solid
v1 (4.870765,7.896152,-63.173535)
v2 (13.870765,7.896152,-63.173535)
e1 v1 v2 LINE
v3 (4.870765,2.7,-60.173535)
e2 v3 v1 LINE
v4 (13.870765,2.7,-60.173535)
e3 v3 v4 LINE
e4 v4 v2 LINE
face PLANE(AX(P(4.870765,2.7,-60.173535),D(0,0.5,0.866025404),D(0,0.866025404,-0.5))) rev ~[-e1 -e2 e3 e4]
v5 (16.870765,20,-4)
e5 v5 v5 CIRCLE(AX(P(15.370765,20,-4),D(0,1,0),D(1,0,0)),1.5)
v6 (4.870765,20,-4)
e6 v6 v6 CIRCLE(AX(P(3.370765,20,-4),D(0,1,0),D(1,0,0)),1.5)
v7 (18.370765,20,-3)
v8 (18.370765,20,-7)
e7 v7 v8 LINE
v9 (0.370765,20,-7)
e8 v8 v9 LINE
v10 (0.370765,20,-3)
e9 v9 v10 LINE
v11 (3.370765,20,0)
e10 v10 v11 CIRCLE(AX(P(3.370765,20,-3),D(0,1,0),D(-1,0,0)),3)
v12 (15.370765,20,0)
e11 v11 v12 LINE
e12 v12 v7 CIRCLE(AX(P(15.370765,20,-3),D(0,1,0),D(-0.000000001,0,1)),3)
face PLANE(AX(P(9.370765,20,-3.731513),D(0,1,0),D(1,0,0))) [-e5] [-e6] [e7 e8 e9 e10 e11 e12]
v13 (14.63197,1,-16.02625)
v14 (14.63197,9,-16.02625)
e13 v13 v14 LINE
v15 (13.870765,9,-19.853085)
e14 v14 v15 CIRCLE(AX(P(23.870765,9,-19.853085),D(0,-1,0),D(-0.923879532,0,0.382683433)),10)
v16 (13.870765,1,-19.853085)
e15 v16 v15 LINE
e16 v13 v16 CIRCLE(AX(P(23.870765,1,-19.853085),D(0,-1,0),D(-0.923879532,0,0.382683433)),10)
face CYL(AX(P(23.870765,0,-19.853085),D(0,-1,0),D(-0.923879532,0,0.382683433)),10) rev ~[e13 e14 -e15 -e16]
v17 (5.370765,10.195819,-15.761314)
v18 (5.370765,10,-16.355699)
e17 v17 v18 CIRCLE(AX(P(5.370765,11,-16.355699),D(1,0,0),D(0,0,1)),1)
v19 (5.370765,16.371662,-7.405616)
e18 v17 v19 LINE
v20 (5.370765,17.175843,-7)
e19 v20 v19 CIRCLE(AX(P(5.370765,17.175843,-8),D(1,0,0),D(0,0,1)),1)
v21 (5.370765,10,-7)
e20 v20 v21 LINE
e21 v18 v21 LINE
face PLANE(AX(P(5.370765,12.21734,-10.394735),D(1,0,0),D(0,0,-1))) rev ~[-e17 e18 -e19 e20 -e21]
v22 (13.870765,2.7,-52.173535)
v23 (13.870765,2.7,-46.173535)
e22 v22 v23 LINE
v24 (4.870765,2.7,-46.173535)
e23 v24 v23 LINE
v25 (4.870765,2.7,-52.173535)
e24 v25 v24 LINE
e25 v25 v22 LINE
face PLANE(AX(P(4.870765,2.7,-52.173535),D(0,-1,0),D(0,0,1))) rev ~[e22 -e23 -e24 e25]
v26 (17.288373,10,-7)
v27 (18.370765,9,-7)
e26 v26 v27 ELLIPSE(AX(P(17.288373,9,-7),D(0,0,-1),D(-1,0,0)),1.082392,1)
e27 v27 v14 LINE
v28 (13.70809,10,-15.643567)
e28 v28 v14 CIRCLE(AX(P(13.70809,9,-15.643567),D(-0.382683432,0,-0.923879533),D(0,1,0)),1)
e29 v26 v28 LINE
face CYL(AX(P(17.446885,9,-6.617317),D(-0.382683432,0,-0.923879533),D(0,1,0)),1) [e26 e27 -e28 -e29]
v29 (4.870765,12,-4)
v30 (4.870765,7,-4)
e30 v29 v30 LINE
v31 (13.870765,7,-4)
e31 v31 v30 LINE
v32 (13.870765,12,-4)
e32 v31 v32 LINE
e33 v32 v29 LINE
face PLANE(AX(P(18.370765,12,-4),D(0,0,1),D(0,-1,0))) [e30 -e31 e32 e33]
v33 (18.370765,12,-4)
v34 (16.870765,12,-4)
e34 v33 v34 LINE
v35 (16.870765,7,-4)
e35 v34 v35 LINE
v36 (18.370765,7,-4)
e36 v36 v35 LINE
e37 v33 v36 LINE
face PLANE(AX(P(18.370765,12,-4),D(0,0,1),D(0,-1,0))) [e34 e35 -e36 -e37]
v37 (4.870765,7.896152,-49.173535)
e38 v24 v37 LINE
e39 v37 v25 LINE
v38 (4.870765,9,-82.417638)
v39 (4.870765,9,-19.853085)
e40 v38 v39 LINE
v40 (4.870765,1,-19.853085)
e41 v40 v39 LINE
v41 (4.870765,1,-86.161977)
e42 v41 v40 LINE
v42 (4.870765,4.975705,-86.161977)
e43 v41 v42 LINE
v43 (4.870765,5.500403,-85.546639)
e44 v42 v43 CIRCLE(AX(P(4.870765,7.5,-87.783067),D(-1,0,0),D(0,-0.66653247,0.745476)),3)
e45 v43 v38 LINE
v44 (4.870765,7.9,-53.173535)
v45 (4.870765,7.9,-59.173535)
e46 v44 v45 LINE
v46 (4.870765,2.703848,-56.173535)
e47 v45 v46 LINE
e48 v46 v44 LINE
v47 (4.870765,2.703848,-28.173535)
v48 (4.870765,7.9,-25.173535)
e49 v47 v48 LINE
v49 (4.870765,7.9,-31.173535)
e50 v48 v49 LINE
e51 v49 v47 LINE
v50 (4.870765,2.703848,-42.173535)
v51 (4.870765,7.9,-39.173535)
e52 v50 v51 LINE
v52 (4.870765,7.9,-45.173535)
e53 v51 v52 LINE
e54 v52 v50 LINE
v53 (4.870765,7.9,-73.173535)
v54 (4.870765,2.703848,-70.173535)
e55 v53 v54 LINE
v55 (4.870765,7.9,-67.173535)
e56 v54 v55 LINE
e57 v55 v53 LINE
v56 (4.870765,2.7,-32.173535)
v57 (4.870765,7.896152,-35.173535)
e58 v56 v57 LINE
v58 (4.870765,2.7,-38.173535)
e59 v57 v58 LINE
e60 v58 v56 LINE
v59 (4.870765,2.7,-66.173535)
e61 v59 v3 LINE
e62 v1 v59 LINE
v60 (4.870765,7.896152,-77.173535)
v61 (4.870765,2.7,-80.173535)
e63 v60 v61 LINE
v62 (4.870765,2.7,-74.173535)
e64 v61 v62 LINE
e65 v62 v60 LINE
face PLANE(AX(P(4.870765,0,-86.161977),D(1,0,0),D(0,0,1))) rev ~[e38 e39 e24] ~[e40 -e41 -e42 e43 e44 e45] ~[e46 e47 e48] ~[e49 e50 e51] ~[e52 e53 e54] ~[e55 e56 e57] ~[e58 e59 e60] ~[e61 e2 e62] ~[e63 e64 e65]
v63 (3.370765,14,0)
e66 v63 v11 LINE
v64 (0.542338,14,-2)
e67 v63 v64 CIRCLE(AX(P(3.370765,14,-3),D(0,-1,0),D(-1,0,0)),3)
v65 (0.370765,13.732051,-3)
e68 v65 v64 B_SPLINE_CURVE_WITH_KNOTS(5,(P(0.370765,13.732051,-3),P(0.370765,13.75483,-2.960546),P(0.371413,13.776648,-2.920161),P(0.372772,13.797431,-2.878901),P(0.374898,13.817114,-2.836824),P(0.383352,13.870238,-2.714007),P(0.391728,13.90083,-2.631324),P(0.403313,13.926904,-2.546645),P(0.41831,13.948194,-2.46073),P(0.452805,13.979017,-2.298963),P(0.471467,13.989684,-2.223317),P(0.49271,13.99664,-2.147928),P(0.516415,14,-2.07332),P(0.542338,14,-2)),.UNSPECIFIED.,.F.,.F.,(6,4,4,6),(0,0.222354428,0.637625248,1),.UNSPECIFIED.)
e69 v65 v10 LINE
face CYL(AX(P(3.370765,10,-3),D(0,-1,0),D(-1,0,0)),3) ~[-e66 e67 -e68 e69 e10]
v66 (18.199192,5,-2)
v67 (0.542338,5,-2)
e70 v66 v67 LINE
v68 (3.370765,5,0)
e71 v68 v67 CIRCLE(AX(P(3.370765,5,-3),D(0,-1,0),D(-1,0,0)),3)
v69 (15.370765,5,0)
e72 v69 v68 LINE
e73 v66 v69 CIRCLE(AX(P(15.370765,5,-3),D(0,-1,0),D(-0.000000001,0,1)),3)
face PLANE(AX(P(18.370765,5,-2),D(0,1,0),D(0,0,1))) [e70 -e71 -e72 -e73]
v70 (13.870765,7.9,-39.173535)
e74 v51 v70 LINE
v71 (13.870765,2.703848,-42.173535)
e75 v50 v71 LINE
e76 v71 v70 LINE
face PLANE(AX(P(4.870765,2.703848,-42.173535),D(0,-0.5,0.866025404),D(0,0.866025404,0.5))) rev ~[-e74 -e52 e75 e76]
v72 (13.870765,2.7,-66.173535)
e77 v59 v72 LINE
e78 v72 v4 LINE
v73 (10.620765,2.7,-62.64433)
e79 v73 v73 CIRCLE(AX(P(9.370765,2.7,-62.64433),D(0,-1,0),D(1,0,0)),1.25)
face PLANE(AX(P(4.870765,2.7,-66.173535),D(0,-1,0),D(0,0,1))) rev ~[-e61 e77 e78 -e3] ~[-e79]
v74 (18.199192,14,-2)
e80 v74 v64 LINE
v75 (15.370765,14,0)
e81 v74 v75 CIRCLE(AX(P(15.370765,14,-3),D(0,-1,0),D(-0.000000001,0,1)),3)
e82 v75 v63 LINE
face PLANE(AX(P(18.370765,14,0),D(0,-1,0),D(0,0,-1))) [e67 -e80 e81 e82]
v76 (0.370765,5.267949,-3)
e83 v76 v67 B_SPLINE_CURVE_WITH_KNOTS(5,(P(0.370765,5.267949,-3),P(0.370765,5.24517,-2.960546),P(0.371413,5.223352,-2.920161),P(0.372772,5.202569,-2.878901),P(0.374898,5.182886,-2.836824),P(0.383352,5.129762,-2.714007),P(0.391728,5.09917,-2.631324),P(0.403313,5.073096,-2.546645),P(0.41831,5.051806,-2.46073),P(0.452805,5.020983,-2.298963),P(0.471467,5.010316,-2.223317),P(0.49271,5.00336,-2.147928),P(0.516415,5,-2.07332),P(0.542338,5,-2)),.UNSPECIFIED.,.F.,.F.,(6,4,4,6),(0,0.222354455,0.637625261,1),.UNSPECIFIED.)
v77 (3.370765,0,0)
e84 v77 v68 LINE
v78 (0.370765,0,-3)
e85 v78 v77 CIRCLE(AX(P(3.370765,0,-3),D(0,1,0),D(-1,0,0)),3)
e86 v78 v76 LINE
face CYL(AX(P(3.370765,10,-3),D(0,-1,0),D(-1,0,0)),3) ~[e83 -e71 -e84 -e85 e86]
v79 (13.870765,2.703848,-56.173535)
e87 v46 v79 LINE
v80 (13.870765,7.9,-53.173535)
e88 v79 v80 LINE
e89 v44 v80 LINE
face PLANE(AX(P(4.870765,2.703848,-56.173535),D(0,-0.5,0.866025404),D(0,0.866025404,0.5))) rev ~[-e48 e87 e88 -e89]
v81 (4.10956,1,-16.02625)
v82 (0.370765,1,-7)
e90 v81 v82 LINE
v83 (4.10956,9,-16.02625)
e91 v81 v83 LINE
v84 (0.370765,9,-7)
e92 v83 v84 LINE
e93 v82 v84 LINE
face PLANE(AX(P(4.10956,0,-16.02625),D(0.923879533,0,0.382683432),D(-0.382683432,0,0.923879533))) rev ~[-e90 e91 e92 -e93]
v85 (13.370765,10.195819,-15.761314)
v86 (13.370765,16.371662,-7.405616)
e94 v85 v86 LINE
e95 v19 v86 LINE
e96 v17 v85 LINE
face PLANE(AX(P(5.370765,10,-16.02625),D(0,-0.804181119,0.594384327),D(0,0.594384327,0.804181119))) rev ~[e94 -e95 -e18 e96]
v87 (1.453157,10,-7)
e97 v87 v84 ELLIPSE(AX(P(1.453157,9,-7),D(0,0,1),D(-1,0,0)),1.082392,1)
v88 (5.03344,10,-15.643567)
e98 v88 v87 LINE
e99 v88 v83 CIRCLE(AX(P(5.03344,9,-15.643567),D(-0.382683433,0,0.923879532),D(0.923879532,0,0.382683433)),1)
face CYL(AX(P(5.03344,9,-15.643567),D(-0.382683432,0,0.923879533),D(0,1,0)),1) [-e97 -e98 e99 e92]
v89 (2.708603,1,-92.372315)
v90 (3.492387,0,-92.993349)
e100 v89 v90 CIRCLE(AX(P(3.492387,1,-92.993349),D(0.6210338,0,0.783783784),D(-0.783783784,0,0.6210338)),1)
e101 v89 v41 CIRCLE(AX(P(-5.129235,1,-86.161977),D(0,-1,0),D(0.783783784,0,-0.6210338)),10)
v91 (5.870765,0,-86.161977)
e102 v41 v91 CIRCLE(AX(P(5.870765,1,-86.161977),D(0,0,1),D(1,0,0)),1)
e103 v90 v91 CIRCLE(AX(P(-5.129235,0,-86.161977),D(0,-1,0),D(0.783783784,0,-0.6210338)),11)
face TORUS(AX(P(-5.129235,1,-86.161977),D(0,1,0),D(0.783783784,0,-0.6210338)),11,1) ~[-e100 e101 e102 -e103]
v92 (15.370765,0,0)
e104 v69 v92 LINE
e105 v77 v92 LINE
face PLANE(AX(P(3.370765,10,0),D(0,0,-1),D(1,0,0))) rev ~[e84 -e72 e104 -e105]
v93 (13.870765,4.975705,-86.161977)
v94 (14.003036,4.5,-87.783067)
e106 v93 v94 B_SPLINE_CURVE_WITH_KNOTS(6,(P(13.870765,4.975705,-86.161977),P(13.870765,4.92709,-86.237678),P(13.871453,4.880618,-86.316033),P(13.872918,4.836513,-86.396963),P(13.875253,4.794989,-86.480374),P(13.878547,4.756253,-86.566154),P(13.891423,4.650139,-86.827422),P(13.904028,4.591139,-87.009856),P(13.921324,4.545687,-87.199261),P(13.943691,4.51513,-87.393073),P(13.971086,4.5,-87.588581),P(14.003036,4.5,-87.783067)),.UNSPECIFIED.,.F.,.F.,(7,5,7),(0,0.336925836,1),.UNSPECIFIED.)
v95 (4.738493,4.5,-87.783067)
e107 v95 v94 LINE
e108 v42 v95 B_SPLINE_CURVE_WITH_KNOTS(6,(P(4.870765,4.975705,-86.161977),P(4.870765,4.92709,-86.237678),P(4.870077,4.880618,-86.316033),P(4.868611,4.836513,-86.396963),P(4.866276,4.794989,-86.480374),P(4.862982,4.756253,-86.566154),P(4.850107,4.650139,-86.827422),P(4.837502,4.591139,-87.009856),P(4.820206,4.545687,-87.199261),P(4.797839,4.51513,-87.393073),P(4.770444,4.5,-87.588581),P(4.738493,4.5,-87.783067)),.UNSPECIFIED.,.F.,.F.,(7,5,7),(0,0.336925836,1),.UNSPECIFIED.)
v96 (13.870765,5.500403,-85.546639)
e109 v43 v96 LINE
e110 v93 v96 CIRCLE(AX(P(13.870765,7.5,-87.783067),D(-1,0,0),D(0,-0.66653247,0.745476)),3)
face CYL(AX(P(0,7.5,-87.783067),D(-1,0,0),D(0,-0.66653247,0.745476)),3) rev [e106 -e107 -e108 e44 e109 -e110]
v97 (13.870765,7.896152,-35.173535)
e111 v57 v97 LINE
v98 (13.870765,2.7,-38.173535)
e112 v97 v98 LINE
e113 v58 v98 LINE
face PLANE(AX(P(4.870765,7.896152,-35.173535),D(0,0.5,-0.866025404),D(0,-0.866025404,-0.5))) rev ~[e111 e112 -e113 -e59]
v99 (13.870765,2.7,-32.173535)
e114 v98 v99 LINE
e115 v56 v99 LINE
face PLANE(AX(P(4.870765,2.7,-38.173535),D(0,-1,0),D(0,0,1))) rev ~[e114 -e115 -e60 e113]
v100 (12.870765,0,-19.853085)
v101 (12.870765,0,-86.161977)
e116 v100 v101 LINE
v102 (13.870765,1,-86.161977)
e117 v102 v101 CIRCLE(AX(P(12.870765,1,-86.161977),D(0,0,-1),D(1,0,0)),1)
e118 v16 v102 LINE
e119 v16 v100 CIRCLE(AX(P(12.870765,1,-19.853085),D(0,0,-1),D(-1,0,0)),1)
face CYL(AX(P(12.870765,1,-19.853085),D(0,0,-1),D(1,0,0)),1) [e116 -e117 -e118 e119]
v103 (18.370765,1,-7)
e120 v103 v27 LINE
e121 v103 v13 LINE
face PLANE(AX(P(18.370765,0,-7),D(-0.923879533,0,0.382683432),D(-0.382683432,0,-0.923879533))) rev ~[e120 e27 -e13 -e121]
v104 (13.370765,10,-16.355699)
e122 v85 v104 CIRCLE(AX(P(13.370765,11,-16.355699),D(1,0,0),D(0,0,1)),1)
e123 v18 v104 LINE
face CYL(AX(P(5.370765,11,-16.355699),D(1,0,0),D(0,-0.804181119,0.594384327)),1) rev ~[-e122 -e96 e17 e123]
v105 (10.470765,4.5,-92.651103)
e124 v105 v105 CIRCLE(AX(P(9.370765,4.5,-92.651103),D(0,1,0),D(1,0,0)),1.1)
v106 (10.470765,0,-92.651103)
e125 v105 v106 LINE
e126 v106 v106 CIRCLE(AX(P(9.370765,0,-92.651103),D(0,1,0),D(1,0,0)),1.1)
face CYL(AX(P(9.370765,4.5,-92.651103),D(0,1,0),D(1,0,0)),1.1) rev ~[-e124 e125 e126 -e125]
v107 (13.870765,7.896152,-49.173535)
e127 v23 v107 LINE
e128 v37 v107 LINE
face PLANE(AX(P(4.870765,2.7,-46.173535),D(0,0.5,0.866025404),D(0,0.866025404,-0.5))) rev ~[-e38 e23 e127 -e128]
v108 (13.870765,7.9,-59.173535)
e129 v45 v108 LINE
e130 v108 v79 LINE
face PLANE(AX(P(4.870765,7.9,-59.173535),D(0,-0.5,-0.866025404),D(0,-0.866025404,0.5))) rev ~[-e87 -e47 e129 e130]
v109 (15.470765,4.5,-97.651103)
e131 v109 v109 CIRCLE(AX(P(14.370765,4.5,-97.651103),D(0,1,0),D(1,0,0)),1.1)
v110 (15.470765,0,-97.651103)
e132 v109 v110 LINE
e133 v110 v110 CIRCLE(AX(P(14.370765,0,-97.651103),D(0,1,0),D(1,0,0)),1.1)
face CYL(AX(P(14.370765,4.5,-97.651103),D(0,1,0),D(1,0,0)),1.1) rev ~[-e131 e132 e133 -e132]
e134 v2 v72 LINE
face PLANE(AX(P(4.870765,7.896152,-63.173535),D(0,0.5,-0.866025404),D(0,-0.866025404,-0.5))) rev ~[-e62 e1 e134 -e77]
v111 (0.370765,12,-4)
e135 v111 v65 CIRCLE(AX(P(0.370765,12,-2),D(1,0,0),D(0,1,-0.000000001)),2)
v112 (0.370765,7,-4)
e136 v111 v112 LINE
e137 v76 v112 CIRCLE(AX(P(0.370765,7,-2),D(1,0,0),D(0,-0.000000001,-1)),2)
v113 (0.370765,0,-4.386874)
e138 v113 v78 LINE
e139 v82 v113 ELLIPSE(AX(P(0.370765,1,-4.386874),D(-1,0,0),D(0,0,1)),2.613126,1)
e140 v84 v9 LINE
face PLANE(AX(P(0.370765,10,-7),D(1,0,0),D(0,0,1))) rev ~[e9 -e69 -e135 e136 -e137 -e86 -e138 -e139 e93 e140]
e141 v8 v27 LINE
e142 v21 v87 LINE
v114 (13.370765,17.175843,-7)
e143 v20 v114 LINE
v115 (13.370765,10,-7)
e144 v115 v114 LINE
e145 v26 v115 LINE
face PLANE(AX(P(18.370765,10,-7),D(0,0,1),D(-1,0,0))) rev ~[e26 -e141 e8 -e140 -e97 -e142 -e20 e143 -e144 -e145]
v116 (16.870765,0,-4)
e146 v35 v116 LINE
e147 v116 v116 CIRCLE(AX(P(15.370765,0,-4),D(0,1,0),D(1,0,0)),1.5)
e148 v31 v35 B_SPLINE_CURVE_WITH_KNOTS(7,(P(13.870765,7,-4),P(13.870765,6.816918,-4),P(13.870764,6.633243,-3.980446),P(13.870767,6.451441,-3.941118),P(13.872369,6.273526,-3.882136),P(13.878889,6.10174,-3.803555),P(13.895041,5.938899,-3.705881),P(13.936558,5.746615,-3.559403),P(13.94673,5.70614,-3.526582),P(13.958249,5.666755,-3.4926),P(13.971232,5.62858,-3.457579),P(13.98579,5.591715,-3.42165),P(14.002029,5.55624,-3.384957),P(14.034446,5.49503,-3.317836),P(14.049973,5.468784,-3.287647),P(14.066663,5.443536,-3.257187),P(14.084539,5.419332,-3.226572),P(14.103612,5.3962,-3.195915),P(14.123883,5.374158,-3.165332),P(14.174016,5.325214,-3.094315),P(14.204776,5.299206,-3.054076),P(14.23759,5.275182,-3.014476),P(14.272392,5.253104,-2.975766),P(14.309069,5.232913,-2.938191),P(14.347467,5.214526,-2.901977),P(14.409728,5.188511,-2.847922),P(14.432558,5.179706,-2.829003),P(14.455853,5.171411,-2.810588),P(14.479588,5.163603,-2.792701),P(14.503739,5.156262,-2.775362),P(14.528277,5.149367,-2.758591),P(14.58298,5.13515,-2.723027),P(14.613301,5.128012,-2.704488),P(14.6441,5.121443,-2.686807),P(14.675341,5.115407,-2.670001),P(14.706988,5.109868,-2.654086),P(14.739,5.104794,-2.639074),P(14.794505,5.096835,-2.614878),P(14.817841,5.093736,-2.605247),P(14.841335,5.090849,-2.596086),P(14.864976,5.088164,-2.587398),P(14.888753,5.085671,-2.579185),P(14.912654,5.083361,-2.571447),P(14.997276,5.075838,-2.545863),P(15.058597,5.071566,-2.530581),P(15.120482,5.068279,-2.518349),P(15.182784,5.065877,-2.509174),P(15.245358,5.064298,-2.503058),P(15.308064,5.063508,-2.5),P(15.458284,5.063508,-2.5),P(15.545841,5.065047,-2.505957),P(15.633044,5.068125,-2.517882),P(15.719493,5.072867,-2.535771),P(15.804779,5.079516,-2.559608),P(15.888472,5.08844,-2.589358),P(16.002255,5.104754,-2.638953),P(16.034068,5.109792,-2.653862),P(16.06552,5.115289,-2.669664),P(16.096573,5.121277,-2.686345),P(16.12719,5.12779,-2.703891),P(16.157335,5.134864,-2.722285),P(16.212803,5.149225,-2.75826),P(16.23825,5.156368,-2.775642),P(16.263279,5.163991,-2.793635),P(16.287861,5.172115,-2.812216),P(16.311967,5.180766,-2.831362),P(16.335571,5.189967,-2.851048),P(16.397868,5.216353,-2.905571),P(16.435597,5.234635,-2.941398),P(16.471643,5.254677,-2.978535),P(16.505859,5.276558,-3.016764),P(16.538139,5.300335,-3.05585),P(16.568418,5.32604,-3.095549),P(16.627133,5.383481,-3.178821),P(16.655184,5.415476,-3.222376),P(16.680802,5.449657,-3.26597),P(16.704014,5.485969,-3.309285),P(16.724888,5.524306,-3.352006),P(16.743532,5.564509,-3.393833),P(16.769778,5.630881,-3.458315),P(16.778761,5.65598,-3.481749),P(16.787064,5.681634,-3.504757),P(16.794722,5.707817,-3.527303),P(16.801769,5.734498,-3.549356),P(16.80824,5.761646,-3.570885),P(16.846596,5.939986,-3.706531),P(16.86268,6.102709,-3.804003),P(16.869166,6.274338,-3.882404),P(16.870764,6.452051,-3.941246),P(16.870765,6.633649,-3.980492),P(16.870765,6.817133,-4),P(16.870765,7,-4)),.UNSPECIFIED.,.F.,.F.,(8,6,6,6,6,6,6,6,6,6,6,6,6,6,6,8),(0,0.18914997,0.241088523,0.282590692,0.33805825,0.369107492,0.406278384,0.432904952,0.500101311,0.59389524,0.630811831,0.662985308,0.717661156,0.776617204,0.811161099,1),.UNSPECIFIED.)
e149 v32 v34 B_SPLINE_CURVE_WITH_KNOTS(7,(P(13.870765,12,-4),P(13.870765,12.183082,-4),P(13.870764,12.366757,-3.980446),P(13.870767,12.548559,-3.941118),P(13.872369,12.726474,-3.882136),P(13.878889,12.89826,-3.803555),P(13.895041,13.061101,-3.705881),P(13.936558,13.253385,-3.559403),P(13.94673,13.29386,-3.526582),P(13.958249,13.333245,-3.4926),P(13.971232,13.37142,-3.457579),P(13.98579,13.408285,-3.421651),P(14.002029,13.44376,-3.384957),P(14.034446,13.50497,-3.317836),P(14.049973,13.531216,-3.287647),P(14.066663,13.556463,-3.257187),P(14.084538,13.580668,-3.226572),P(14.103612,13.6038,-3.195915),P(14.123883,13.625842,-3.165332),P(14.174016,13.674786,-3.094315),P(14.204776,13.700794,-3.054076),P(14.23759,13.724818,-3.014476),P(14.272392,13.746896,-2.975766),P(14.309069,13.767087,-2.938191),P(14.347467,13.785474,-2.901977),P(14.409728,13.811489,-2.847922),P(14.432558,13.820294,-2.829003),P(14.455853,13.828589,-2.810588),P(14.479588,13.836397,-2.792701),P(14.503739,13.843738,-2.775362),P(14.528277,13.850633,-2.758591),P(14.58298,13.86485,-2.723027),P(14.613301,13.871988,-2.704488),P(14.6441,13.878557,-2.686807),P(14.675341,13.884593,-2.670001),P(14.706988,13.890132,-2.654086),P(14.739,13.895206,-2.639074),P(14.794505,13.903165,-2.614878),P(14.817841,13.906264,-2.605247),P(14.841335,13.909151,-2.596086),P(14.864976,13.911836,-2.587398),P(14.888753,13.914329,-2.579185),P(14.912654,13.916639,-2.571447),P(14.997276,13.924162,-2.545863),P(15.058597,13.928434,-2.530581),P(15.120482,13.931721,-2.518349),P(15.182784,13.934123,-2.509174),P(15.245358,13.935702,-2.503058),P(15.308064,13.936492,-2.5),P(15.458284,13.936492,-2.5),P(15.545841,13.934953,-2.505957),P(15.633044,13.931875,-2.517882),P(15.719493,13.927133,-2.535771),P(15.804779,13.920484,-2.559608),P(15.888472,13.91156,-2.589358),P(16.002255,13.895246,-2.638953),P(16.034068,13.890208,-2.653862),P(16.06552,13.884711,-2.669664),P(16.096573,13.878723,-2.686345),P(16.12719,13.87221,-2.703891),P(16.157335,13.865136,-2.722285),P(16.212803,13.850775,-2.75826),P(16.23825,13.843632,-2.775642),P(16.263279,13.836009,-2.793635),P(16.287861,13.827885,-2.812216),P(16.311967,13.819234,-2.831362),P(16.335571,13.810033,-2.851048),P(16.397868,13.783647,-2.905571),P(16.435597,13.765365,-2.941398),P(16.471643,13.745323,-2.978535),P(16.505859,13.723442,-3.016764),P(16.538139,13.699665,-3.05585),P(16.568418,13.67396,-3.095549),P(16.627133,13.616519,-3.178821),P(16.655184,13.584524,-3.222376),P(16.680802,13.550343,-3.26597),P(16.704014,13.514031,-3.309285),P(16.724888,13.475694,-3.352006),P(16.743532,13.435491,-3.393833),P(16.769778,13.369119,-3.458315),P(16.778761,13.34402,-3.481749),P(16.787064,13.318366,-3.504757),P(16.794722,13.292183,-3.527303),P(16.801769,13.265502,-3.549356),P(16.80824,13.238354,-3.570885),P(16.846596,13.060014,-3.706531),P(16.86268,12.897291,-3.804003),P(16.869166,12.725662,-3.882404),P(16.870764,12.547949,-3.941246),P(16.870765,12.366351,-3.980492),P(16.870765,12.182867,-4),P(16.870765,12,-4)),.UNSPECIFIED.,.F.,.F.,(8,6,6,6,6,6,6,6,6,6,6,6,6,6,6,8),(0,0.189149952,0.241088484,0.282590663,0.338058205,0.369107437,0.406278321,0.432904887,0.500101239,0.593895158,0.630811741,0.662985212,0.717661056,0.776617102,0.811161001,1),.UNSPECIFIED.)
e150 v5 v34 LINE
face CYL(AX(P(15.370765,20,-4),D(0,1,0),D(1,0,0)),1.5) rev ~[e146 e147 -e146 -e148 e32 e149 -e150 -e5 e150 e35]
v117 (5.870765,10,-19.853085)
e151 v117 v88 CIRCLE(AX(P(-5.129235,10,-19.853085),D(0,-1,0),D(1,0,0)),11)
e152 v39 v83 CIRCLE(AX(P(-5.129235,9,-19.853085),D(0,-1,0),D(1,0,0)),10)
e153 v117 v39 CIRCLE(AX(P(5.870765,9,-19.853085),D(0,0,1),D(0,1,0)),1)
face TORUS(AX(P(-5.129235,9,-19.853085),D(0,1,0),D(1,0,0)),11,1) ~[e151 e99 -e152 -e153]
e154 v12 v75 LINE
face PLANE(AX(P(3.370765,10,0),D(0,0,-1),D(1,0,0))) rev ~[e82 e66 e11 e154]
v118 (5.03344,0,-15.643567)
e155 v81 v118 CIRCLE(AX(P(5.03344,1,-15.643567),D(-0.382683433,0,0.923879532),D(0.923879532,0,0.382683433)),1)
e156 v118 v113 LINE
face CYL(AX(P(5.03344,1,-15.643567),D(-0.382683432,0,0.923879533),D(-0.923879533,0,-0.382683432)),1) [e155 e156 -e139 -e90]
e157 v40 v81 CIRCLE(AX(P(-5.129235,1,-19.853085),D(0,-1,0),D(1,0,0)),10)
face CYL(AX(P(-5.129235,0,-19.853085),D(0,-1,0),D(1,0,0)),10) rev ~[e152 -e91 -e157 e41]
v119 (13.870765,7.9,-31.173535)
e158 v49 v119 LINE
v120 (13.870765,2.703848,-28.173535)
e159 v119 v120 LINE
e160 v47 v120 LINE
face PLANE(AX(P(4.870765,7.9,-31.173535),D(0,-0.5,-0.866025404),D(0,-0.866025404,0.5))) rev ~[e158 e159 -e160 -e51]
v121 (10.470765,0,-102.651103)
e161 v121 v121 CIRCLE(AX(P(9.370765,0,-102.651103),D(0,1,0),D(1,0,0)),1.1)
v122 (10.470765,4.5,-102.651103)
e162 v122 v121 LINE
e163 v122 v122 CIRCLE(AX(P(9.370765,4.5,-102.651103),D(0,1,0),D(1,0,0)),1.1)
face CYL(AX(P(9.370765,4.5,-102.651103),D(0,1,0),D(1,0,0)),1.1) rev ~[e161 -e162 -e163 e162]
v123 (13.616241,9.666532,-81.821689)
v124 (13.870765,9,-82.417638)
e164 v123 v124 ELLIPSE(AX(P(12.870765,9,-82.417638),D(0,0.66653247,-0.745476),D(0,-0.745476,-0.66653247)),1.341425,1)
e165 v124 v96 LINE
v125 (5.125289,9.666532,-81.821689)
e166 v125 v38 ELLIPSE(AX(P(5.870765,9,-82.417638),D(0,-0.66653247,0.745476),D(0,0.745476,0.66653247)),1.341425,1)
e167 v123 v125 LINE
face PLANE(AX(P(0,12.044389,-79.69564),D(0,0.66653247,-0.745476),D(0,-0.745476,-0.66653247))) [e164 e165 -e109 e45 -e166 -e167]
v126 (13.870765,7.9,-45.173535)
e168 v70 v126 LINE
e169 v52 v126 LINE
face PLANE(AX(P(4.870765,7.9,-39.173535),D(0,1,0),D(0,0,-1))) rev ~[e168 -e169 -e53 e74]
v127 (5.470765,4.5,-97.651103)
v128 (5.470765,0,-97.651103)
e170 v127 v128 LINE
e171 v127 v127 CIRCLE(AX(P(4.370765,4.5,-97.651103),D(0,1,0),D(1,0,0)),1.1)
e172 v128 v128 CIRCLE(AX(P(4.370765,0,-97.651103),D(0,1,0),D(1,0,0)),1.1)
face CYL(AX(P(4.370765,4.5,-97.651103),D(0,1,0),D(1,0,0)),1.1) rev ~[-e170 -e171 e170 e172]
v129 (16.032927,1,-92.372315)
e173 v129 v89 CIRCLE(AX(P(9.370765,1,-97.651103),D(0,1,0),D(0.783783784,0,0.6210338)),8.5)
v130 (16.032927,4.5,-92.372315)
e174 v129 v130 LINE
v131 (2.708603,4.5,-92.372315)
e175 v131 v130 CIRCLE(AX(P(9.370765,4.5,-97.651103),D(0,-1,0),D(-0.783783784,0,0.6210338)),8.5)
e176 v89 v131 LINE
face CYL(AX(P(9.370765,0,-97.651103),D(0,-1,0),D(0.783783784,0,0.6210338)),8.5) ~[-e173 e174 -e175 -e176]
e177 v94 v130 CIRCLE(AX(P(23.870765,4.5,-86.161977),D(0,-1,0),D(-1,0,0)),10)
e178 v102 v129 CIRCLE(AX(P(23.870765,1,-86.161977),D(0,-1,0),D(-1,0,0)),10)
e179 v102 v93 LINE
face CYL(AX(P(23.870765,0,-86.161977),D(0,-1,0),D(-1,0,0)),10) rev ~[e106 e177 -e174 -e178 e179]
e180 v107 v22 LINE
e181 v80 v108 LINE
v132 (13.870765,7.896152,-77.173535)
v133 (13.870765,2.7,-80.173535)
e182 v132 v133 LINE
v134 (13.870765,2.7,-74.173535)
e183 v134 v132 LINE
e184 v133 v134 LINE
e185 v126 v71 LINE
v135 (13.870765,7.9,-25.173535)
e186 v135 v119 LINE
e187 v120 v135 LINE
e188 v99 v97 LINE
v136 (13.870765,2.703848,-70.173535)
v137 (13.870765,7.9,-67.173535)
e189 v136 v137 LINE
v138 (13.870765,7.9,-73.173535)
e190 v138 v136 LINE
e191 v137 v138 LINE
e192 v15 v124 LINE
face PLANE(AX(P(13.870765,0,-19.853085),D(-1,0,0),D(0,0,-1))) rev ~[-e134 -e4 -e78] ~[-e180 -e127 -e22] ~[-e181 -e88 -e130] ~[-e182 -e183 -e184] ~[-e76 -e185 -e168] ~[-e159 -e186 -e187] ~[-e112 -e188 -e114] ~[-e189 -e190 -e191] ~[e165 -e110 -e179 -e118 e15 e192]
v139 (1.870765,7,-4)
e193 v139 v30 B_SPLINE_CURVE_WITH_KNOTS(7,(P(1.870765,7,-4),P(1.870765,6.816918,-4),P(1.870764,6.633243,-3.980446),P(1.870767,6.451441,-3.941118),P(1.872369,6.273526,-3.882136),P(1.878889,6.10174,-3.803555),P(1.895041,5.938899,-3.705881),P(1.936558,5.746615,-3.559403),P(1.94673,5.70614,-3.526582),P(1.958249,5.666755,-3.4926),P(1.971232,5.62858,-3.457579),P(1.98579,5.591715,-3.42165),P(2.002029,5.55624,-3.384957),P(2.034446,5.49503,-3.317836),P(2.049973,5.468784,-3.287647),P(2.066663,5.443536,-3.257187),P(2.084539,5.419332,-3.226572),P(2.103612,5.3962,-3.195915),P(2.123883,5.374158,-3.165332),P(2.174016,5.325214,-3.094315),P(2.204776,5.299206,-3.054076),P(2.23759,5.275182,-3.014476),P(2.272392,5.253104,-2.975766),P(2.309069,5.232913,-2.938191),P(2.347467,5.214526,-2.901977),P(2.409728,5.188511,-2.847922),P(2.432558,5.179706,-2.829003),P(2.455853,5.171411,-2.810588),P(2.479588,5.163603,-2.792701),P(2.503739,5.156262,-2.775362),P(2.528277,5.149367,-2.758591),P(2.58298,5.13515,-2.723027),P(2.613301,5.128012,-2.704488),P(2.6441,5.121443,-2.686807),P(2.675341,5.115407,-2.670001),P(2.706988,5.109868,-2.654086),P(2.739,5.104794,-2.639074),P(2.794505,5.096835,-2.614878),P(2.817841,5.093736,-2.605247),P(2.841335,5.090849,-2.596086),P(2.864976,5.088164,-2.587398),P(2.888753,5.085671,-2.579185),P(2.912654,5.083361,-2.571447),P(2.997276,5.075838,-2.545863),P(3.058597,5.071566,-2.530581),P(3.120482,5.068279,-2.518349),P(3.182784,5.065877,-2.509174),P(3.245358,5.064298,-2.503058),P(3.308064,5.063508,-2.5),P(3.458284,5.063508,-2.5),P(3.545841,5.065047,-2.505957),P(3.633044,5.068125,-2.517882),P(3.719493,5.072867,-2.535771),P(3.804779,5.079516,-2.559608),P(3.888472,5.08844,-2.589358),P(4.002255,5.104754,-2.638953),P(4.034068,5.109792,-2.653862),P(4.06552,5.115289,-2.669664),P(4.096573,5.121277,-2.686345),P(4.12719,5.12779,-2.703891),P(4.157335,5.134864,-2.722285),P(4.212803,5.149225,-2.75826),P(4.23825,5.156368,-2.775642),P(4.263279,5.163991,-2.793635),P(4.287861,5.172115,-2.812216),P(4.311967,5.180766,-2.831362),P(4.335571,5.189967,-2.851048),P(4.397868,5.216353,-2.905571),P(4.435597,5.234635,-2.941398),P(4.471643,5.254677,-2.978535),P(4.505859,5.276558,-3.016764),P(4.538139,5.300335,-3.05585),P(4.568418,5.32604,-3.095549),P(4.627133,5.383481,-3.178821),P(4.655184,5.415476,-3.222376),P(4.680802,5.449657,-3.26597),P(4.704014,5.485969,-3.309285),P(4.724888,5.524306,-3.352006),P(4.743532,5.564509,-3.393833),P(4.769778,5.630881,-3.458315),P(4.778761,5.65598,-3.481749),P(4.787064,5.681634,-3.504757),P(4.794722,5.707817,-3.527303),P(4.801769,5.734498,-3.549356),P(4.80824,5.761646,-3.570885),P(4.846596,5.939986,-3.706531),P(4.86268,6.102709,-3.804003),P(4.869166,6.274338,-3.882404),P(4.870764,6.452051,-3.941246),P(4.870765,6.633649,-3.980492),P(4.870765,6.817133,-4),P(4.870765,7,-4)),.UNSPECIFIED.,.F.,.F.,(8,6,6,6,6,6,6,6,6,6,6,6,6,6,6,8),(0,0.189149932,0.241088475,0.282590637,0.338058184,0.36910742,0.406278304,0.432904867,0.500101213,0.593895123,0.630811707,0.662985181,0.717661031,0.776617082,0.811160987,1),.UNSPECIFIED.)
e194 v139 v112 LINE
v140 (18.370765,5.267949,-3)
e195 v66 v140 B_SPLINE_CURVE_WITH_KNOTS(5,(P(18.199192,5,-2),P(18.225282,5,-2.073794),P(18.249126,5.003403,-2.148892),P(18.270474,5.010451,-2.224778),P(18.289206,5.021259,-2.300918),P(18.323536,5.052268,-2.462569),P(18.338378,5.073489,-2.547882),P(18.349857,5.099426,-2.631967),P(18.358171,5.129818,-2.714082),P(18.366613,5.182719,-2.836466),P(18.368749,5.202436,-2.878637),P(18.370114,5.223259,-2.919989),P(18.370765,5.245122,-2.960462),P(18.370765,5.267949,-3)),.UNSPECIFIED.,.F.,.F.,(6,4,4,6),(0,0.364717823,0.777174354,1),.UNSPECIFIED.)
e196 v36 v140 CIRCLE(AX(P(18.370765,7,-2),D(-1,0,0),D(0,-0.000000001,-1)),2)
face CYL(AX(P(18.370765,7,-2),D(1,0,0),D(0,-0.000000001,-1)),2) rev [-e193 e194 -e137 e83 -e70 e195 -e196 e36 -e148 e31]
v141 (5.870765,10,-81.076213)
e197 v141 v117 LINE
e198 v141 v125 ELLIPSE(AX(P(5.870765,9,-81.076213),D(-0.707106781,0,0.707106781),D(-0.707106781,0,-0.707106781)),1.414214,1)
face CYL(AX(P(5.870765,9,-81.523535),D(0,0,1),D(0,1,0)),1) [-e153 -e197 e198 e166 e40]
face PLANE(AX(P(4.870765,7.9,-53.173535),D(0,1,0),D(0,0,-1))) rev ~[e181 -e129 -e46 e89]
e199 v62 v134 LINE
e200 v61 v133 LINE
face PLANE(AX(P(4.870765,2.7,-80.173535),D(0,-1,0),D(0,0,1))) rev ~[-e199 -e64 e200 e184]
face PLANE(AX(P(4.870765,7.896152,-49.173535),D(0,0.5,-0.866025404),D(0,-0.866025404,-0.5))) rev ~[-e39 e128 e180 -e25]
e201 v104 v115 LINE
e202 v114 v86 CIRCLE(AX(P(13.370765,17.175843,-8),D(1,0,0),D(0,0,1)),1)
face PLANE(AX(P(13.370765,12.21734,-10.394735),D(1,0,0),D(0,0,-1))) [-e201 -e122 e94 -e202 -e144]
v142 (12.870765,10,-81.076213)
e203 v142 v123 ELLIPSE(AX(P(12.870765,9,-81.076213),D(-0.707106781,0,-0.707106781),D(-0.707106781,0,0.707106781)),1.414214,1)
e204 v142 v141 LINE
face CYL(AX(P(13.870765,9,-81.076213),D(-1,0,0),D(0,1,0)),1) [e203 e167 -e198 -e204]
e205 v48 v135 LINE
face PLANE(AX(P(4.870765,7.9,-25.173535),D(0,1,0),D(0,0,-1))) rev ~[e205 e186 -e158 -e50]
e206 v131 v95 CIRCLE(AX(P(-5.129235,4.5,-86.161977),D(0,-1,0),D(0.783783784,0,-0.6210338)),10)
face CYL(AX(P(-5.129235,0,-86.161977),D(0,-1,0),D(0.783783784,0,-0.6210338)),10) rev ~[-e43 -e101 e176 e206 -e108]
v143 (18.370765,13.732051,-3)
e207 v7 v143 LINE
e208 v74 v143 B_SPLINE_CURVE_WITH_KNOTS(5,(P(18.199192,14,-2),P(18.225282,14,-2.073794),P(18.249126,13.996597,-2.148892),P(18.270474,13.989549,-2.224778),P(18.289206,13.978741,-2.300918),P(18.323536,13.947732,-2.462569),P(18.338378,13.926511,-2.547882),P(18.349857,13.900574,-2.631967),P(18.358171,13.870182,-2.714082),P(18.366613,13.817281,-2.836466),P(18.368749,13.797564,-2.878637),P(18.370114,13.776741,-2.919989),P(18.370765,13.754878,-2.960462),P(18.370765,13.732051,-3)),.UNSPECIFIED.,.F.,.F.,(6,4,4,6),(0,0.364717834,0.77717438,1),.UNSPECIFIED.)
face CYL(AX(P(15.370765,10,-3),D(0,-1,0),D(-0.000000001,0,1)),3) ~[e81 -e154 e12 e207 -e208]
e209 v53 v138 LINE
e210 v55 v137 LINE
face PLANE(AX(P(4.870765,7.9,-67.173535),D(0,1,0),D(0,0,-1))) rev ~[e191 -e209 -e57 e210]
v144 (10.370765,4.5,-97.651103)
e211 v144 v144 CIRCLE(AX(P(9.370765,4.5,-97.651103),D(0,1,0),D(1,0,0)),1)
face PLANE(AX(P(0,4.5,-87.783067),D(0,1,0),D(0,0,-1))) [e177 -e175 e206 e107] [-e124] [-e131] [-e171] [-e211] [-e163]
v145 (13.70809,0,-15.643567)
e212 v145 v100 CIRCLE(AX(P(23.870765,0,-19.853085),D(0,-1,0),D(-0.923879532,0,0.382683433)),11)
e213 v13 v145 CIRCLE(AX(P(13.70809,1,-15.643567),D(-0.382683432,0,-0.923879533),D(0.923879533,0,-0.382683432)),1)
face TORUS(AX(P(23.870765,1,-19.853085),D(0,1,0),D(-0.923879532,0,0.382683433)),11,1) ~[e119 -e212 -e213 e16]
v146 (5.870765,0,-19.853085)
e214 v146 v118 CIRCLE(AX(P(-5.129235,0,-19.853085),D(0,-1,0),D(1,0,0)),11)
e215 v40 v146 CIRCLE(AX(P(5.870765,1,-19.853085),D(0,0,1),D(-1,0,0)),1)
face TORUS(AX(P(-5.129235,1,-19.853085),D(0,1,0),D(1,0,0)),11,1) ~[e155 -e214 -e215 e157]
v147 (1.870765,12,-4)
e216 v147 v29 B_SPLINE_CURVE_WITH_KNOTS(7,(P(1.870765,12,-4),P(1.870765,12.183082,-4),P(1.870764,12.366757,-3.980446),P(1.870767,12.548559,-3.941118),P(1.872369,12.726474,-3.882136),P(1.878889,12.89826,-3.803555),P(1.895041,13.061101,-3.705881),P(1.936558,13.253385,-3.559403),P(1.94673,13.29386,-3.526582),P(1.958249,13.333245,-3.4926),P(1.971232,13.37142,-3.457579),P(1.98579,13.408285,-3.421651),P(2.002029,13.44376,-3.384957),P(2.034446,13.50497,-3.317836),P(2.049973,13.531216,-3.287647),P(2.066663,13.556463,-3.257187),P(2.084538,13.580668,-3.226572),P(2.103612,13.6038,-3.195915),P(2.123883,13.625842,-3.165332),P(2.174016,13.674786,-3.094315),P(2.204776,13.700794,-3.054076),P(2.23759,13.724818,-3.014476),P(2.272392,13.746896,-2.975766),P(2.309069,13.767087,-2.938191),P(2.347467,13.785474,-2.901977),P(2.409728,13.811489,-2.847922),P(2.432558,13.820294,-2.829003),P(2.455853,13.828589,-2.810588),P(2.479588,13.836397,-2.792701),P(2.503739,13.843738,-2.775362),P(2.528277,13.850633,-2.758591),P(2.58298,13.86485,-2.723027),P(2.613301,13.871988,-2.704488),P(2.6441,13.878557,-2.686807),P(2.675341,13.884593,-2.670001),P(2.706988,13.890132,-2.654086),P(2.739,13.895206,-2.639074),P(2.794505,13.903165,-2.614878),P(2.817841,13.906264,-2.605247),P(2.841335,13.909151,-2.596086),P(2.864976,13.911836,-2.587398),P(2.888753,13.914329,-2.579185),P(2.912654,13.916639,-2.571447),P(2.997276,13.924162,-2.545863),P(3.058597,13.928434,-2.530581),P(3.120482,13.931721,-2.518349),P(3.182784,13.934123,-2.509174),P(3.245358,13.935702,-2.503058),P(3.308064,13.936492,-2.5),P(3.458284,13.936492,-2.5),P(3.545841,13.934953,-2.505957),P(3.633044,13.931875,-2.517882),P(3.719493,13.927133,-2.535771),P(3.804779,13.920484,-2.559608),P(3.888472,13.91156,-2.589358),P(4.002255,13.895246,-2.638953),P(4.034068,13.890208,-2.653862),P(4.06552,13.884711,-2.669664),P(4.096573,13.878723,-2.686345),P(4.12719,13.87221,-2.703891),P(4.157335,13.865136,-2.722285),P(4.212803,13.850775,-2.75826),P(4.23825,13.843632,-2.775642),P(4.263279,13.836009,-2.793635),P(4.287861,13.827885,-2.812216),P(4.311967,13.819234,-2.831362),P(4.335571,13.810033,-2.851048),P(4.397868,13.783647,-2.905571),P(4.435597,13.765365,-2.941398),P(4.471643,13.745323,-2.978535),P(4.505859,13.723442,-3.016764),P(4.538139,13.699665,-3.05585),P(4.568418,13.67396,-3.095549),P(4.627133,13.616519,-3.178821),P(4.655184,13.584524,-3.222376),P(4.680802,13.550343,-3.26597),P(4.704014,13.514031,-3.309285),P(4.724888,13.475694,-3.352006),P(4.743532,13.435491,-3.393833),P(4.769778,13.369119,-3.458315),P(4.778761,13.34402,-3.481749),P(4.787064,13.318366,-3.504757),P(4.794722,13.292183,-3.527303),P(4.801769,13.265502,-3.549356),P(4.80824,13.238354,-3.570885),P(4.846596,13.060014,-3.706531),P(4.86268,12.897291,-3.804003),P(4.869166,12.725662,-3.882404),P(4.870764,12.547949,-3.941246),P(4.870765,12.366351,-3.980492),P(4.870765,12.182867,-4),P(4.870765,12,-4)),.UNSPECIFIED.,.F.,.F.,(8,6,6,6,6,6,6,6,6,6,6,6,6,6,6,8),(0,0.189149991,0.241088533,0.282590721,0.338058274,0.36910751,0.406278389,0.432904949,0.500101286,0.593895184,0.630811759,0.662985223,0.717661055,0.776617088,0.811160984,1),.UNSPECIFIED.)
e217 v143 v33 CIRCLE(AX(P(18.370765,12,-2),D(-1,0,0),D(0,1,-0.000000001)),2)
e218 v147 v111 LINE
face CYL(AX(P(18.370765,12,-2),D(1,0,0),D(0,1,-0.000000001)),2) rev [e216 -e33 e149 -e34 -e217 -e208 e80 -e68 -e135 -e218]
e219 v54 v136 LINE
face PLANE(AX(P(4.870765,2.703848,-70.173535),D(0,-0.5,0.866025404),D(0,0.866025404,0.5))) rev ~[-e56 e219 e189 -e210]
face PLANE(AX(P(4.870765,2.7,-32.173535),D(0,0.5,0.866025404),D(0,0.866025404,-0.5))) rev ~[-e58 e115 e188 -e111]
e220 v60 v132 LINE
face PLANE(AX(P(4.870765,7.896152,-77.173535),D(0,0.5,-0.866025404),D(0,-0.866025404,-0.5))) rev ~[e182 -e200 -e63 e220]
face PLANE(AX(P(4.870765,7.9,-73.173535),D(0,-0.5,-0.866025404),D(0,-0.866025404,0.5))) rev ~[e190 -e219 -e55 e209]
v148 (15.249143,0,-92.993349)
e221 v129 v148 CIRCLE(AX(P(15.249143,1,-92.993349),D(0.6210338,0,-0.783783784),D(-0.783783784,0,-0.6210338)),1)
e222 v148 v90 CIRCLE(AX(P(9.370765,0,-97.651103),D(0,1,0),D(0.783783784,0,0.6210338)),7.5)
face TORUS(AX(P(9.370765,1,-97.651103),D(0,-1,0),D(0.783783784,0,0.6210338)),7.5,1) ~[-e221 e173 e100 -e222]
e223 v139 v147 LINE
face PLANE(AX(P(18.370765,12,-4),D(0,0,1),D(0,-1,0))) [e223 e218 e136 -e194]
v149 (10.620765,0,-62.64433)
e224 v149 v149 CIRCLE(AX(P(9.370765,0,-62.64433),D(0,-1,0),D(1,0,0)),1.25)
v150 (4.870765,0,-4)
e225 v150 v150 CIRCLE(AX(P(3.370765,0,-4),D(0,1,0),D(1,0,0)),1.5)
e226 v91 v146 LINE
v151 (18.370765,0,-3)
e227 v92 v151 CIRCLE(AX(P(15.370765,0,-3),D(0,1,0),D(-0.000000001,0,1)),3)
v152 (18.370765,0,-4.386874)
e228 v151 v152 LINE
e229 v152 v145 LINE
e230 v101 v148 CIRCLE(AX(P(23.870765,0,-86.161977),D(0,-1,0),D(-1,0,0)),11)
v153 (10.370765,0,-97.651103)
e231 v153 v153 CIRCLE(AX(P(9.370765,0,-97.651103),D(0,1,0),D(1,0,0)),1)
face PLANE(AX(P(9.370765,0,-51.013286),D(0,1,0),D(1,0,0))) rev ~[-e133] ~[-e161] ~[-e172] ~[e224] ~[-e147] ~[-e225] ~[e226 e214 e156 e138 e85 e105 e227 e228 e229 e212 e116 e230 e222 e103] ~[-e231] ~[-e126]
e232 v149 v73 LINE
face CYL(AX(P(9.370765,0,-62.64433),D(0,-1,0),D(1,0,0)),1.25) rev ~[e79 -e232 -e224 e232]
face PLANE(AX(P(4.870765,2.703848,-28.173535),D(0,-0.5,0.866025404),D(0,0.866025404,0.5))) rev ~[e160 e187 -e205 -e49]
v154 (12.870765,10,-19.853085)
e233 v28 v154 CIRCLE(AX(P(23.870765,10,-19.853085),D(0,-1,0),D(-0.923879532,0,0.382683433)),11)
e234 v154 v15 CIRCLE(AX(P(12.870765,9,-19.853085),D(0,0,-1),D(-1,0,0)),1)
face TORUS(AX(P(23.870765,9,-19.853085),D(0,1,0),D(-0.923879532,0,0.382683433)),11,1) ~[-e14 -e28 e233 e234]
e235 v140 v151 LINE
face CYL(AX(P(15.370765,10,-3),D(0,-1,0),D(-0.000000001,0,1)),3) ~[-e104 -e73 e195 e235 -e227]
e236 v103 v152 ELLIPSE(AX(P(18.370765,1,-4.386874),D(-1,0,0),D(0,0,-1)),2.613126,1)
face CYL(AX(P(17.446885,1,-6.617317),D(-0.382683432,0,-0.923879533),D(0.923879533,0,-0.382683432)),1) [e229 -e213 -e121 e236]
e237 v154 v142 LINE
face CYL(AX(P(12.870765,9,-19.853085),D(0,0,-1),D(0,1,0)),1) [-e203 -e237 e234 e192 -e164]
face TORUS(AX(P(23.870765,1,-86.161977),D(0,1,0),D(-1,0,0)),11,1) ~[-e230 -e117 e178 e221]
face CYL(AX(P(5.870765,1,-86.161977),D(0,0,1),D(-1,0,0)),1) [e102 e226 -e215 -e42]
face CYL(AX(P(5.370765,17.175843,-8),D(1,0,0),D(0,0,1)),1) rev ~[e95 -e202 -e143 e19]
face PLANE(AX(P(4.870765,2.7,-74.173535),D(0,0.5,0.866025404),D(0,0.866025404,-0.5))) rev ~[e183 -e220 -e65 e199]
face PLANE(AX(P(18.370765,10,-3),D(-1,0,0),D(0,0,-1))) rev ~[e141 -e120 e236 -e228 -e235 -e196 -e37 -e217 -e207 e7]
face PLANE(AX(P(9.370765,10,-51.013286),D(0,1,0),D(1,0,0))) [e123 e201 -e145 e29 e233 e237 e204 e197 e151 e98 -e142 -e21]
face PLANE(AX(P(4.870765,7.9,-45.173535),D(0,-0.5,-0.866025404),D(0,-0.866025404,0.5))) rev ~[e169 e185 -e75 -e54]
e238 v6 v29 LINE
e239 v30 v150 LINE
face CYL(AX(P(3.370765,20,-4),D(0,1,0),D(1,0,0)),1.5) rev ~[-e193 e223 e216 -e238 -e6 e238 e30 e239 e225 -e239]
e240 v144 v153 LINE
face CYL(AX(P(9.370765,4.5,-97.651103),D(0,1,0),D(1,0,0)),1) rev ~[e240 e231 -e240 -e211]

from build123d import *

# Parameters (mm, degrees)
BOSS_EXTRUDE1_DEPTH     = 10
CUT_EXTRUDE1_DEPTH      = 19.370764901
CUT_EXTRUDE1_DEPTH_BACK = 1
SKETCH3_R               = 1
SKETCH3_R_2             = 1.1
CUT_EXTRUDE2_DEPTH      = 6.5
CUT_EXTRUDE2_DEPTH_BACK = 5.5000001
BOSS_EXTRUDE2_DEPTH     = 10
SKETCH5_R               = 1.5
CUT_EXTRUDE3_DEPTH      = 21.0000001
CUT_EXTRUDE4_DEPTH      = 19
CUT_EXTRUDE5_DEPTH      = 14.5000001
BOSS_EXTRUDE3_START     = -5
BOSS_EXTRUDE3_DEPTH     = 8
FILLET2_R               = 1
FILLET3_R               = 1
SKETCH11_R              = 1.25
CUT_EXTRUDE12_DEPTH     = 4


with BuildPart() as part:
    # Sketch1 → Boss-Extrude1 (new body)
    with BuildSketch(Plane(origin=(0, 0, 0), x_dir=(1, 0, 0), z_dir=(0, 1, 0))):
        with BuildLine():
            Line((3.370764901, 0), (15.370764901, 0))
            ThreePointArc((15.370764901, 0), (17.492085245, 0.878679656), (18.370764901, 3))
            Line((18.370764901, 3), (18.370764901, 7))
            Line((18.370764901, 7), (14.631969576, 16.026250381))
            ThreePointArc((14.631969576, 16.026250381), (14.062912097, 17.902181484), (13.870764901, 19.853084704))
            Line((13.870764901, 19.853084704), (13.870764901, 86.161977258))
            ThreePointArc((13.870764901, 86.161977258), (14.426762085, 89.449957004), (16.032927063, 92.372315254))
            ThreePointArc((16.032927063, 92.372315254), (9.370764901, 106.151102551), (2.708602739, 92.372315254))
            ThreePointArc((2.708602739, 92.372315254), (4.314767717, 89.449957004), (4.870764901, 86.161977258))
            Line((4.870764901, 86.161977258), (4.870764901, 19.853084704))
            ThreePointArc((4.870764901, 19.853084704), (4.678617705, 17.902181484), (4.109560226, 16.026250381))
            Line((4.109560226, 16.026250381), (0.370764901, 7))
            Line((0.370764901, 7), (0.370764901, 3))
            ThreePointArc((0.370764901, 3), (1.249444558, 0.878679656), (3.370764901, 0))
        make_face()
    extrude(amount=BOSS_EXTRUDE1_DEPTH)

    # Sketch2 → Cut-Extrude1 (cut, two sides)
    with BuildSketch(Plane(origin=(0, 0, 0), x_dir=(0, 0, -1), z_dir=(1, 0, 0))) as cut_extrude1_sk:
        with BuildLine():
            Line((79.695640218, 12.044389059), (85.546639403, 5.500402589))
            ThreePointArc((85.546639403, 5.500402589), (86.558076021, 4.761497468), (87.783067402, 4.5))
            Line((87.783067402, 4.5), (106.151102551, 4.5))
            Line((106.151102551, 4.5), (106.151102551, 14.134482691))
            Line((106.151102551, 14.134482691), (79.695640218, 14.134482691))
            Line((79.695640218, 14.134482691), (79.695640218, 12.044389059))
        make_face()
    extrude(amount=CUT_EXTRUDE1_DEPTH, mode=Mode.SUBTRACT)
    extrude(cut_extrude1_sk.sketch, amount=-CUT_EXTRUDE1_DEPTH_BACK, mode=Mode.SUBTRACT)

    # Sketch3 → Cut-Extrude2 (cut, two sides)
    with BuildSketch(Plane(origin=(0, 4.5, 0), x_dir=(1, 0, 0), z_dir=(0, 1, 0))) as cut_extrude2_sk:
        with Locations((9.370764901, 97.651102551)):
            Circle(SKETCH3_R)
        with Locations((9.370764901, 102.651102551)):
            Circle(SKETCH3_R_2)
        with Locations((14.370764901, 97.651102551)):
            Circle(SKETCH3_R_2)
        with Locations((9.370764901, 92.651102551)):
            Circle(SKETCH3_R_2)
        with Locations((4.370764901, 97.651102551)):
            Circle(SKETCH3_R_2)
    extrude(amount=CUT_EXTRUDE2_DEPTH, mode=Mode.SUBTRACT)
    extrude(cut_extrude2_sk.sketch, amount=-CUT_EXTRUDE2_DEPTH_BACK, mode=Mode.SUBTRACT)

    # Sketch4 → Boss-Extrude2 (add)
    with BuildSketch(Plane(origin=(0, 10, 0), x_dir=(1, 0, 0), z_dir=(0, 1, 0))):
        with BuildLine():
            Line((18.370764901, 7), (0.370764901, 7))
            Line((0.370764901, 7), (0.370764901, 3))
            ThreePointArc((0.370764901, 3), (1.249444558, 0.878679656), (3.370764901, 0))
            Line((3.370764901, 0), (15.370764901, 0))
            ThreePointArc((15.370764901, 0), (17.492085245, 0.878679656), (18.370764901, 3))
            Line((18.370764901, 3), (18.370764901, 7))
        make_face()
    extrude(amount=BOSS_EXTRUDE2_DEPTH)

    # Sketch5 → Cut-Extrude3 (cut, through all)
    with BuildSketch(Plane(origin=(0, 20, 0), x_dir=(1, 0, 0), z_dir=(0, 1, 0))):
        with Locations((3.370764901, 4)):
            Circle(SKETCH5_R)
        with Locations((15.370764901, 4)):
            Circle(SKETCH5_R)
    extrude(amount=-CUT_EXTRUDE3_DEPTH, mode=Mode.SUBTRACT)

    # Sketch6 → Cut-Extrude4 (cut, through all)
    with BuildSketch(Plane(origin=(18.370764901, 0, 0), x_dir=(0, 0, -1), z_dir=(1, 0, 0))):
        with BuildLine():
            Line((0, 14), (2, 14))
            ThreePointArc((2, 14), (3.414213562, 13.414213562), (4, 12))
            Line((4, 12), (4, 7))
            ThreePointArc((4, 7), (3.414213562, 5.585786438), (2, 5))
            Line((2, 5), (0, 5))
            Line((0, 5), (0, 14))
        make_face()
    extrude(amount=-CUT_EXTRUDE4_DEPTH, mode=Mode.SUBTRACT)

    # Sketch7 → Cut-Extrude5 (cut, through all)
    with BuildSketch(Plane.ZY.offset(-4.870764901)):
        Polygon((-77.173535, 7.896152423), (-80.173535, 2.7), (-74.173535, 2.7), align=None)
        Polygon((-73.173535, 7.9), (-70.173535, 2.703847577), (-67.173535, 7.9), align=None)
        Polygon((-63.173535, 7.896152423), (-66.173535, 2.7), (-60.173535, 2.7), align=None)
        Polygon((-59.173535, 7.9), (-56.173535, 2.703847577), (-53.173535, 7.9), align=None)
        Polygon((-49.173535, 7.896152423), (-52.173535, 2.7), (-46.173535, 2.7), align=None)
        Polygon((-45.173535, 7.9), (-42.173535, 2.703847577), (-39.173535, 7.9), align=None)
        Polygon((-35.173535, 7.896152423), (-38.173535, 2.7), (-32.173535, 2.7), align=None)
        Polygon((-31.173535, 7.9), (-28.173535, 2.703847577), (-25.173535, 7.9), align=None)
    extrude(amount=-CUT_EXTRUDE5_DEPTH, mode=Mode.SUBTRACT)

    # Sketch9 → Boss-Extrude3 (add)
    with BuildSketch(Plane.ZY.offset(-0.370764901).offset(BOSS_EXTRUDE3_START)):
        Polygon((-7, 16.671459489), (-7, 10), (-16.026250381, 10), align=None)
    extrude(amount=-BOSS_EXTRUDE3_DEPTH)

    # Fillet2
    fillet2_edges = [part.edges().sort_by_distance(p)[0] for p in [
        (16.501367239, 0, -11.51312519),
        (2.240162564, 0, -11.51312519),
        (4.678617705, 0, -17.902181484),
        (4.870764901, 0, -53.007530981),
        (4.314767717, 0, -89.449957004),
        (9.370764901, 0, -106.151102551),
        (14.426762085, 0, -89.449957004),
        (13.870764901, 0, -53.007530981),
        (14.062912097, 0, -17.902181484),
        (4.678617705, 10, -17.902181484),
        (2.240162564, 10, -11.51312519),
        (4.870764901, 10, -50.688309852),
        (9.370764901, 10, -81.523535),
        (14.062912097, 10, -17.902181484),
        (16.501367239, 10, -11.51312519),
        (13.870764901, 10, -50.688309852),
    ]]
    fillet(fillet2_edges, radius=FILLET2_R)

    # Fillet3
    fillet3_edges = [part.edges().sort_by_distance(p)[0] for p in [
        (9.370764901, 10, -16.026250381),
        (9.370764901, 16.671459489, -7),
    ]]
    fillet(fillet3_edges, radius=FILLET3_R)

    # Sketch11 → Cut-Extrude12 (cut)
    with BuildSketch(Plane.XZ):
        with Locations((9.370764901, -62.644330493)):
            Circle(SKETCH11_R)
    extrude(amount=-CUT_EXTRUDE12_DEPTH, mode=Mode.SUBTRACT)


solid = part.part
